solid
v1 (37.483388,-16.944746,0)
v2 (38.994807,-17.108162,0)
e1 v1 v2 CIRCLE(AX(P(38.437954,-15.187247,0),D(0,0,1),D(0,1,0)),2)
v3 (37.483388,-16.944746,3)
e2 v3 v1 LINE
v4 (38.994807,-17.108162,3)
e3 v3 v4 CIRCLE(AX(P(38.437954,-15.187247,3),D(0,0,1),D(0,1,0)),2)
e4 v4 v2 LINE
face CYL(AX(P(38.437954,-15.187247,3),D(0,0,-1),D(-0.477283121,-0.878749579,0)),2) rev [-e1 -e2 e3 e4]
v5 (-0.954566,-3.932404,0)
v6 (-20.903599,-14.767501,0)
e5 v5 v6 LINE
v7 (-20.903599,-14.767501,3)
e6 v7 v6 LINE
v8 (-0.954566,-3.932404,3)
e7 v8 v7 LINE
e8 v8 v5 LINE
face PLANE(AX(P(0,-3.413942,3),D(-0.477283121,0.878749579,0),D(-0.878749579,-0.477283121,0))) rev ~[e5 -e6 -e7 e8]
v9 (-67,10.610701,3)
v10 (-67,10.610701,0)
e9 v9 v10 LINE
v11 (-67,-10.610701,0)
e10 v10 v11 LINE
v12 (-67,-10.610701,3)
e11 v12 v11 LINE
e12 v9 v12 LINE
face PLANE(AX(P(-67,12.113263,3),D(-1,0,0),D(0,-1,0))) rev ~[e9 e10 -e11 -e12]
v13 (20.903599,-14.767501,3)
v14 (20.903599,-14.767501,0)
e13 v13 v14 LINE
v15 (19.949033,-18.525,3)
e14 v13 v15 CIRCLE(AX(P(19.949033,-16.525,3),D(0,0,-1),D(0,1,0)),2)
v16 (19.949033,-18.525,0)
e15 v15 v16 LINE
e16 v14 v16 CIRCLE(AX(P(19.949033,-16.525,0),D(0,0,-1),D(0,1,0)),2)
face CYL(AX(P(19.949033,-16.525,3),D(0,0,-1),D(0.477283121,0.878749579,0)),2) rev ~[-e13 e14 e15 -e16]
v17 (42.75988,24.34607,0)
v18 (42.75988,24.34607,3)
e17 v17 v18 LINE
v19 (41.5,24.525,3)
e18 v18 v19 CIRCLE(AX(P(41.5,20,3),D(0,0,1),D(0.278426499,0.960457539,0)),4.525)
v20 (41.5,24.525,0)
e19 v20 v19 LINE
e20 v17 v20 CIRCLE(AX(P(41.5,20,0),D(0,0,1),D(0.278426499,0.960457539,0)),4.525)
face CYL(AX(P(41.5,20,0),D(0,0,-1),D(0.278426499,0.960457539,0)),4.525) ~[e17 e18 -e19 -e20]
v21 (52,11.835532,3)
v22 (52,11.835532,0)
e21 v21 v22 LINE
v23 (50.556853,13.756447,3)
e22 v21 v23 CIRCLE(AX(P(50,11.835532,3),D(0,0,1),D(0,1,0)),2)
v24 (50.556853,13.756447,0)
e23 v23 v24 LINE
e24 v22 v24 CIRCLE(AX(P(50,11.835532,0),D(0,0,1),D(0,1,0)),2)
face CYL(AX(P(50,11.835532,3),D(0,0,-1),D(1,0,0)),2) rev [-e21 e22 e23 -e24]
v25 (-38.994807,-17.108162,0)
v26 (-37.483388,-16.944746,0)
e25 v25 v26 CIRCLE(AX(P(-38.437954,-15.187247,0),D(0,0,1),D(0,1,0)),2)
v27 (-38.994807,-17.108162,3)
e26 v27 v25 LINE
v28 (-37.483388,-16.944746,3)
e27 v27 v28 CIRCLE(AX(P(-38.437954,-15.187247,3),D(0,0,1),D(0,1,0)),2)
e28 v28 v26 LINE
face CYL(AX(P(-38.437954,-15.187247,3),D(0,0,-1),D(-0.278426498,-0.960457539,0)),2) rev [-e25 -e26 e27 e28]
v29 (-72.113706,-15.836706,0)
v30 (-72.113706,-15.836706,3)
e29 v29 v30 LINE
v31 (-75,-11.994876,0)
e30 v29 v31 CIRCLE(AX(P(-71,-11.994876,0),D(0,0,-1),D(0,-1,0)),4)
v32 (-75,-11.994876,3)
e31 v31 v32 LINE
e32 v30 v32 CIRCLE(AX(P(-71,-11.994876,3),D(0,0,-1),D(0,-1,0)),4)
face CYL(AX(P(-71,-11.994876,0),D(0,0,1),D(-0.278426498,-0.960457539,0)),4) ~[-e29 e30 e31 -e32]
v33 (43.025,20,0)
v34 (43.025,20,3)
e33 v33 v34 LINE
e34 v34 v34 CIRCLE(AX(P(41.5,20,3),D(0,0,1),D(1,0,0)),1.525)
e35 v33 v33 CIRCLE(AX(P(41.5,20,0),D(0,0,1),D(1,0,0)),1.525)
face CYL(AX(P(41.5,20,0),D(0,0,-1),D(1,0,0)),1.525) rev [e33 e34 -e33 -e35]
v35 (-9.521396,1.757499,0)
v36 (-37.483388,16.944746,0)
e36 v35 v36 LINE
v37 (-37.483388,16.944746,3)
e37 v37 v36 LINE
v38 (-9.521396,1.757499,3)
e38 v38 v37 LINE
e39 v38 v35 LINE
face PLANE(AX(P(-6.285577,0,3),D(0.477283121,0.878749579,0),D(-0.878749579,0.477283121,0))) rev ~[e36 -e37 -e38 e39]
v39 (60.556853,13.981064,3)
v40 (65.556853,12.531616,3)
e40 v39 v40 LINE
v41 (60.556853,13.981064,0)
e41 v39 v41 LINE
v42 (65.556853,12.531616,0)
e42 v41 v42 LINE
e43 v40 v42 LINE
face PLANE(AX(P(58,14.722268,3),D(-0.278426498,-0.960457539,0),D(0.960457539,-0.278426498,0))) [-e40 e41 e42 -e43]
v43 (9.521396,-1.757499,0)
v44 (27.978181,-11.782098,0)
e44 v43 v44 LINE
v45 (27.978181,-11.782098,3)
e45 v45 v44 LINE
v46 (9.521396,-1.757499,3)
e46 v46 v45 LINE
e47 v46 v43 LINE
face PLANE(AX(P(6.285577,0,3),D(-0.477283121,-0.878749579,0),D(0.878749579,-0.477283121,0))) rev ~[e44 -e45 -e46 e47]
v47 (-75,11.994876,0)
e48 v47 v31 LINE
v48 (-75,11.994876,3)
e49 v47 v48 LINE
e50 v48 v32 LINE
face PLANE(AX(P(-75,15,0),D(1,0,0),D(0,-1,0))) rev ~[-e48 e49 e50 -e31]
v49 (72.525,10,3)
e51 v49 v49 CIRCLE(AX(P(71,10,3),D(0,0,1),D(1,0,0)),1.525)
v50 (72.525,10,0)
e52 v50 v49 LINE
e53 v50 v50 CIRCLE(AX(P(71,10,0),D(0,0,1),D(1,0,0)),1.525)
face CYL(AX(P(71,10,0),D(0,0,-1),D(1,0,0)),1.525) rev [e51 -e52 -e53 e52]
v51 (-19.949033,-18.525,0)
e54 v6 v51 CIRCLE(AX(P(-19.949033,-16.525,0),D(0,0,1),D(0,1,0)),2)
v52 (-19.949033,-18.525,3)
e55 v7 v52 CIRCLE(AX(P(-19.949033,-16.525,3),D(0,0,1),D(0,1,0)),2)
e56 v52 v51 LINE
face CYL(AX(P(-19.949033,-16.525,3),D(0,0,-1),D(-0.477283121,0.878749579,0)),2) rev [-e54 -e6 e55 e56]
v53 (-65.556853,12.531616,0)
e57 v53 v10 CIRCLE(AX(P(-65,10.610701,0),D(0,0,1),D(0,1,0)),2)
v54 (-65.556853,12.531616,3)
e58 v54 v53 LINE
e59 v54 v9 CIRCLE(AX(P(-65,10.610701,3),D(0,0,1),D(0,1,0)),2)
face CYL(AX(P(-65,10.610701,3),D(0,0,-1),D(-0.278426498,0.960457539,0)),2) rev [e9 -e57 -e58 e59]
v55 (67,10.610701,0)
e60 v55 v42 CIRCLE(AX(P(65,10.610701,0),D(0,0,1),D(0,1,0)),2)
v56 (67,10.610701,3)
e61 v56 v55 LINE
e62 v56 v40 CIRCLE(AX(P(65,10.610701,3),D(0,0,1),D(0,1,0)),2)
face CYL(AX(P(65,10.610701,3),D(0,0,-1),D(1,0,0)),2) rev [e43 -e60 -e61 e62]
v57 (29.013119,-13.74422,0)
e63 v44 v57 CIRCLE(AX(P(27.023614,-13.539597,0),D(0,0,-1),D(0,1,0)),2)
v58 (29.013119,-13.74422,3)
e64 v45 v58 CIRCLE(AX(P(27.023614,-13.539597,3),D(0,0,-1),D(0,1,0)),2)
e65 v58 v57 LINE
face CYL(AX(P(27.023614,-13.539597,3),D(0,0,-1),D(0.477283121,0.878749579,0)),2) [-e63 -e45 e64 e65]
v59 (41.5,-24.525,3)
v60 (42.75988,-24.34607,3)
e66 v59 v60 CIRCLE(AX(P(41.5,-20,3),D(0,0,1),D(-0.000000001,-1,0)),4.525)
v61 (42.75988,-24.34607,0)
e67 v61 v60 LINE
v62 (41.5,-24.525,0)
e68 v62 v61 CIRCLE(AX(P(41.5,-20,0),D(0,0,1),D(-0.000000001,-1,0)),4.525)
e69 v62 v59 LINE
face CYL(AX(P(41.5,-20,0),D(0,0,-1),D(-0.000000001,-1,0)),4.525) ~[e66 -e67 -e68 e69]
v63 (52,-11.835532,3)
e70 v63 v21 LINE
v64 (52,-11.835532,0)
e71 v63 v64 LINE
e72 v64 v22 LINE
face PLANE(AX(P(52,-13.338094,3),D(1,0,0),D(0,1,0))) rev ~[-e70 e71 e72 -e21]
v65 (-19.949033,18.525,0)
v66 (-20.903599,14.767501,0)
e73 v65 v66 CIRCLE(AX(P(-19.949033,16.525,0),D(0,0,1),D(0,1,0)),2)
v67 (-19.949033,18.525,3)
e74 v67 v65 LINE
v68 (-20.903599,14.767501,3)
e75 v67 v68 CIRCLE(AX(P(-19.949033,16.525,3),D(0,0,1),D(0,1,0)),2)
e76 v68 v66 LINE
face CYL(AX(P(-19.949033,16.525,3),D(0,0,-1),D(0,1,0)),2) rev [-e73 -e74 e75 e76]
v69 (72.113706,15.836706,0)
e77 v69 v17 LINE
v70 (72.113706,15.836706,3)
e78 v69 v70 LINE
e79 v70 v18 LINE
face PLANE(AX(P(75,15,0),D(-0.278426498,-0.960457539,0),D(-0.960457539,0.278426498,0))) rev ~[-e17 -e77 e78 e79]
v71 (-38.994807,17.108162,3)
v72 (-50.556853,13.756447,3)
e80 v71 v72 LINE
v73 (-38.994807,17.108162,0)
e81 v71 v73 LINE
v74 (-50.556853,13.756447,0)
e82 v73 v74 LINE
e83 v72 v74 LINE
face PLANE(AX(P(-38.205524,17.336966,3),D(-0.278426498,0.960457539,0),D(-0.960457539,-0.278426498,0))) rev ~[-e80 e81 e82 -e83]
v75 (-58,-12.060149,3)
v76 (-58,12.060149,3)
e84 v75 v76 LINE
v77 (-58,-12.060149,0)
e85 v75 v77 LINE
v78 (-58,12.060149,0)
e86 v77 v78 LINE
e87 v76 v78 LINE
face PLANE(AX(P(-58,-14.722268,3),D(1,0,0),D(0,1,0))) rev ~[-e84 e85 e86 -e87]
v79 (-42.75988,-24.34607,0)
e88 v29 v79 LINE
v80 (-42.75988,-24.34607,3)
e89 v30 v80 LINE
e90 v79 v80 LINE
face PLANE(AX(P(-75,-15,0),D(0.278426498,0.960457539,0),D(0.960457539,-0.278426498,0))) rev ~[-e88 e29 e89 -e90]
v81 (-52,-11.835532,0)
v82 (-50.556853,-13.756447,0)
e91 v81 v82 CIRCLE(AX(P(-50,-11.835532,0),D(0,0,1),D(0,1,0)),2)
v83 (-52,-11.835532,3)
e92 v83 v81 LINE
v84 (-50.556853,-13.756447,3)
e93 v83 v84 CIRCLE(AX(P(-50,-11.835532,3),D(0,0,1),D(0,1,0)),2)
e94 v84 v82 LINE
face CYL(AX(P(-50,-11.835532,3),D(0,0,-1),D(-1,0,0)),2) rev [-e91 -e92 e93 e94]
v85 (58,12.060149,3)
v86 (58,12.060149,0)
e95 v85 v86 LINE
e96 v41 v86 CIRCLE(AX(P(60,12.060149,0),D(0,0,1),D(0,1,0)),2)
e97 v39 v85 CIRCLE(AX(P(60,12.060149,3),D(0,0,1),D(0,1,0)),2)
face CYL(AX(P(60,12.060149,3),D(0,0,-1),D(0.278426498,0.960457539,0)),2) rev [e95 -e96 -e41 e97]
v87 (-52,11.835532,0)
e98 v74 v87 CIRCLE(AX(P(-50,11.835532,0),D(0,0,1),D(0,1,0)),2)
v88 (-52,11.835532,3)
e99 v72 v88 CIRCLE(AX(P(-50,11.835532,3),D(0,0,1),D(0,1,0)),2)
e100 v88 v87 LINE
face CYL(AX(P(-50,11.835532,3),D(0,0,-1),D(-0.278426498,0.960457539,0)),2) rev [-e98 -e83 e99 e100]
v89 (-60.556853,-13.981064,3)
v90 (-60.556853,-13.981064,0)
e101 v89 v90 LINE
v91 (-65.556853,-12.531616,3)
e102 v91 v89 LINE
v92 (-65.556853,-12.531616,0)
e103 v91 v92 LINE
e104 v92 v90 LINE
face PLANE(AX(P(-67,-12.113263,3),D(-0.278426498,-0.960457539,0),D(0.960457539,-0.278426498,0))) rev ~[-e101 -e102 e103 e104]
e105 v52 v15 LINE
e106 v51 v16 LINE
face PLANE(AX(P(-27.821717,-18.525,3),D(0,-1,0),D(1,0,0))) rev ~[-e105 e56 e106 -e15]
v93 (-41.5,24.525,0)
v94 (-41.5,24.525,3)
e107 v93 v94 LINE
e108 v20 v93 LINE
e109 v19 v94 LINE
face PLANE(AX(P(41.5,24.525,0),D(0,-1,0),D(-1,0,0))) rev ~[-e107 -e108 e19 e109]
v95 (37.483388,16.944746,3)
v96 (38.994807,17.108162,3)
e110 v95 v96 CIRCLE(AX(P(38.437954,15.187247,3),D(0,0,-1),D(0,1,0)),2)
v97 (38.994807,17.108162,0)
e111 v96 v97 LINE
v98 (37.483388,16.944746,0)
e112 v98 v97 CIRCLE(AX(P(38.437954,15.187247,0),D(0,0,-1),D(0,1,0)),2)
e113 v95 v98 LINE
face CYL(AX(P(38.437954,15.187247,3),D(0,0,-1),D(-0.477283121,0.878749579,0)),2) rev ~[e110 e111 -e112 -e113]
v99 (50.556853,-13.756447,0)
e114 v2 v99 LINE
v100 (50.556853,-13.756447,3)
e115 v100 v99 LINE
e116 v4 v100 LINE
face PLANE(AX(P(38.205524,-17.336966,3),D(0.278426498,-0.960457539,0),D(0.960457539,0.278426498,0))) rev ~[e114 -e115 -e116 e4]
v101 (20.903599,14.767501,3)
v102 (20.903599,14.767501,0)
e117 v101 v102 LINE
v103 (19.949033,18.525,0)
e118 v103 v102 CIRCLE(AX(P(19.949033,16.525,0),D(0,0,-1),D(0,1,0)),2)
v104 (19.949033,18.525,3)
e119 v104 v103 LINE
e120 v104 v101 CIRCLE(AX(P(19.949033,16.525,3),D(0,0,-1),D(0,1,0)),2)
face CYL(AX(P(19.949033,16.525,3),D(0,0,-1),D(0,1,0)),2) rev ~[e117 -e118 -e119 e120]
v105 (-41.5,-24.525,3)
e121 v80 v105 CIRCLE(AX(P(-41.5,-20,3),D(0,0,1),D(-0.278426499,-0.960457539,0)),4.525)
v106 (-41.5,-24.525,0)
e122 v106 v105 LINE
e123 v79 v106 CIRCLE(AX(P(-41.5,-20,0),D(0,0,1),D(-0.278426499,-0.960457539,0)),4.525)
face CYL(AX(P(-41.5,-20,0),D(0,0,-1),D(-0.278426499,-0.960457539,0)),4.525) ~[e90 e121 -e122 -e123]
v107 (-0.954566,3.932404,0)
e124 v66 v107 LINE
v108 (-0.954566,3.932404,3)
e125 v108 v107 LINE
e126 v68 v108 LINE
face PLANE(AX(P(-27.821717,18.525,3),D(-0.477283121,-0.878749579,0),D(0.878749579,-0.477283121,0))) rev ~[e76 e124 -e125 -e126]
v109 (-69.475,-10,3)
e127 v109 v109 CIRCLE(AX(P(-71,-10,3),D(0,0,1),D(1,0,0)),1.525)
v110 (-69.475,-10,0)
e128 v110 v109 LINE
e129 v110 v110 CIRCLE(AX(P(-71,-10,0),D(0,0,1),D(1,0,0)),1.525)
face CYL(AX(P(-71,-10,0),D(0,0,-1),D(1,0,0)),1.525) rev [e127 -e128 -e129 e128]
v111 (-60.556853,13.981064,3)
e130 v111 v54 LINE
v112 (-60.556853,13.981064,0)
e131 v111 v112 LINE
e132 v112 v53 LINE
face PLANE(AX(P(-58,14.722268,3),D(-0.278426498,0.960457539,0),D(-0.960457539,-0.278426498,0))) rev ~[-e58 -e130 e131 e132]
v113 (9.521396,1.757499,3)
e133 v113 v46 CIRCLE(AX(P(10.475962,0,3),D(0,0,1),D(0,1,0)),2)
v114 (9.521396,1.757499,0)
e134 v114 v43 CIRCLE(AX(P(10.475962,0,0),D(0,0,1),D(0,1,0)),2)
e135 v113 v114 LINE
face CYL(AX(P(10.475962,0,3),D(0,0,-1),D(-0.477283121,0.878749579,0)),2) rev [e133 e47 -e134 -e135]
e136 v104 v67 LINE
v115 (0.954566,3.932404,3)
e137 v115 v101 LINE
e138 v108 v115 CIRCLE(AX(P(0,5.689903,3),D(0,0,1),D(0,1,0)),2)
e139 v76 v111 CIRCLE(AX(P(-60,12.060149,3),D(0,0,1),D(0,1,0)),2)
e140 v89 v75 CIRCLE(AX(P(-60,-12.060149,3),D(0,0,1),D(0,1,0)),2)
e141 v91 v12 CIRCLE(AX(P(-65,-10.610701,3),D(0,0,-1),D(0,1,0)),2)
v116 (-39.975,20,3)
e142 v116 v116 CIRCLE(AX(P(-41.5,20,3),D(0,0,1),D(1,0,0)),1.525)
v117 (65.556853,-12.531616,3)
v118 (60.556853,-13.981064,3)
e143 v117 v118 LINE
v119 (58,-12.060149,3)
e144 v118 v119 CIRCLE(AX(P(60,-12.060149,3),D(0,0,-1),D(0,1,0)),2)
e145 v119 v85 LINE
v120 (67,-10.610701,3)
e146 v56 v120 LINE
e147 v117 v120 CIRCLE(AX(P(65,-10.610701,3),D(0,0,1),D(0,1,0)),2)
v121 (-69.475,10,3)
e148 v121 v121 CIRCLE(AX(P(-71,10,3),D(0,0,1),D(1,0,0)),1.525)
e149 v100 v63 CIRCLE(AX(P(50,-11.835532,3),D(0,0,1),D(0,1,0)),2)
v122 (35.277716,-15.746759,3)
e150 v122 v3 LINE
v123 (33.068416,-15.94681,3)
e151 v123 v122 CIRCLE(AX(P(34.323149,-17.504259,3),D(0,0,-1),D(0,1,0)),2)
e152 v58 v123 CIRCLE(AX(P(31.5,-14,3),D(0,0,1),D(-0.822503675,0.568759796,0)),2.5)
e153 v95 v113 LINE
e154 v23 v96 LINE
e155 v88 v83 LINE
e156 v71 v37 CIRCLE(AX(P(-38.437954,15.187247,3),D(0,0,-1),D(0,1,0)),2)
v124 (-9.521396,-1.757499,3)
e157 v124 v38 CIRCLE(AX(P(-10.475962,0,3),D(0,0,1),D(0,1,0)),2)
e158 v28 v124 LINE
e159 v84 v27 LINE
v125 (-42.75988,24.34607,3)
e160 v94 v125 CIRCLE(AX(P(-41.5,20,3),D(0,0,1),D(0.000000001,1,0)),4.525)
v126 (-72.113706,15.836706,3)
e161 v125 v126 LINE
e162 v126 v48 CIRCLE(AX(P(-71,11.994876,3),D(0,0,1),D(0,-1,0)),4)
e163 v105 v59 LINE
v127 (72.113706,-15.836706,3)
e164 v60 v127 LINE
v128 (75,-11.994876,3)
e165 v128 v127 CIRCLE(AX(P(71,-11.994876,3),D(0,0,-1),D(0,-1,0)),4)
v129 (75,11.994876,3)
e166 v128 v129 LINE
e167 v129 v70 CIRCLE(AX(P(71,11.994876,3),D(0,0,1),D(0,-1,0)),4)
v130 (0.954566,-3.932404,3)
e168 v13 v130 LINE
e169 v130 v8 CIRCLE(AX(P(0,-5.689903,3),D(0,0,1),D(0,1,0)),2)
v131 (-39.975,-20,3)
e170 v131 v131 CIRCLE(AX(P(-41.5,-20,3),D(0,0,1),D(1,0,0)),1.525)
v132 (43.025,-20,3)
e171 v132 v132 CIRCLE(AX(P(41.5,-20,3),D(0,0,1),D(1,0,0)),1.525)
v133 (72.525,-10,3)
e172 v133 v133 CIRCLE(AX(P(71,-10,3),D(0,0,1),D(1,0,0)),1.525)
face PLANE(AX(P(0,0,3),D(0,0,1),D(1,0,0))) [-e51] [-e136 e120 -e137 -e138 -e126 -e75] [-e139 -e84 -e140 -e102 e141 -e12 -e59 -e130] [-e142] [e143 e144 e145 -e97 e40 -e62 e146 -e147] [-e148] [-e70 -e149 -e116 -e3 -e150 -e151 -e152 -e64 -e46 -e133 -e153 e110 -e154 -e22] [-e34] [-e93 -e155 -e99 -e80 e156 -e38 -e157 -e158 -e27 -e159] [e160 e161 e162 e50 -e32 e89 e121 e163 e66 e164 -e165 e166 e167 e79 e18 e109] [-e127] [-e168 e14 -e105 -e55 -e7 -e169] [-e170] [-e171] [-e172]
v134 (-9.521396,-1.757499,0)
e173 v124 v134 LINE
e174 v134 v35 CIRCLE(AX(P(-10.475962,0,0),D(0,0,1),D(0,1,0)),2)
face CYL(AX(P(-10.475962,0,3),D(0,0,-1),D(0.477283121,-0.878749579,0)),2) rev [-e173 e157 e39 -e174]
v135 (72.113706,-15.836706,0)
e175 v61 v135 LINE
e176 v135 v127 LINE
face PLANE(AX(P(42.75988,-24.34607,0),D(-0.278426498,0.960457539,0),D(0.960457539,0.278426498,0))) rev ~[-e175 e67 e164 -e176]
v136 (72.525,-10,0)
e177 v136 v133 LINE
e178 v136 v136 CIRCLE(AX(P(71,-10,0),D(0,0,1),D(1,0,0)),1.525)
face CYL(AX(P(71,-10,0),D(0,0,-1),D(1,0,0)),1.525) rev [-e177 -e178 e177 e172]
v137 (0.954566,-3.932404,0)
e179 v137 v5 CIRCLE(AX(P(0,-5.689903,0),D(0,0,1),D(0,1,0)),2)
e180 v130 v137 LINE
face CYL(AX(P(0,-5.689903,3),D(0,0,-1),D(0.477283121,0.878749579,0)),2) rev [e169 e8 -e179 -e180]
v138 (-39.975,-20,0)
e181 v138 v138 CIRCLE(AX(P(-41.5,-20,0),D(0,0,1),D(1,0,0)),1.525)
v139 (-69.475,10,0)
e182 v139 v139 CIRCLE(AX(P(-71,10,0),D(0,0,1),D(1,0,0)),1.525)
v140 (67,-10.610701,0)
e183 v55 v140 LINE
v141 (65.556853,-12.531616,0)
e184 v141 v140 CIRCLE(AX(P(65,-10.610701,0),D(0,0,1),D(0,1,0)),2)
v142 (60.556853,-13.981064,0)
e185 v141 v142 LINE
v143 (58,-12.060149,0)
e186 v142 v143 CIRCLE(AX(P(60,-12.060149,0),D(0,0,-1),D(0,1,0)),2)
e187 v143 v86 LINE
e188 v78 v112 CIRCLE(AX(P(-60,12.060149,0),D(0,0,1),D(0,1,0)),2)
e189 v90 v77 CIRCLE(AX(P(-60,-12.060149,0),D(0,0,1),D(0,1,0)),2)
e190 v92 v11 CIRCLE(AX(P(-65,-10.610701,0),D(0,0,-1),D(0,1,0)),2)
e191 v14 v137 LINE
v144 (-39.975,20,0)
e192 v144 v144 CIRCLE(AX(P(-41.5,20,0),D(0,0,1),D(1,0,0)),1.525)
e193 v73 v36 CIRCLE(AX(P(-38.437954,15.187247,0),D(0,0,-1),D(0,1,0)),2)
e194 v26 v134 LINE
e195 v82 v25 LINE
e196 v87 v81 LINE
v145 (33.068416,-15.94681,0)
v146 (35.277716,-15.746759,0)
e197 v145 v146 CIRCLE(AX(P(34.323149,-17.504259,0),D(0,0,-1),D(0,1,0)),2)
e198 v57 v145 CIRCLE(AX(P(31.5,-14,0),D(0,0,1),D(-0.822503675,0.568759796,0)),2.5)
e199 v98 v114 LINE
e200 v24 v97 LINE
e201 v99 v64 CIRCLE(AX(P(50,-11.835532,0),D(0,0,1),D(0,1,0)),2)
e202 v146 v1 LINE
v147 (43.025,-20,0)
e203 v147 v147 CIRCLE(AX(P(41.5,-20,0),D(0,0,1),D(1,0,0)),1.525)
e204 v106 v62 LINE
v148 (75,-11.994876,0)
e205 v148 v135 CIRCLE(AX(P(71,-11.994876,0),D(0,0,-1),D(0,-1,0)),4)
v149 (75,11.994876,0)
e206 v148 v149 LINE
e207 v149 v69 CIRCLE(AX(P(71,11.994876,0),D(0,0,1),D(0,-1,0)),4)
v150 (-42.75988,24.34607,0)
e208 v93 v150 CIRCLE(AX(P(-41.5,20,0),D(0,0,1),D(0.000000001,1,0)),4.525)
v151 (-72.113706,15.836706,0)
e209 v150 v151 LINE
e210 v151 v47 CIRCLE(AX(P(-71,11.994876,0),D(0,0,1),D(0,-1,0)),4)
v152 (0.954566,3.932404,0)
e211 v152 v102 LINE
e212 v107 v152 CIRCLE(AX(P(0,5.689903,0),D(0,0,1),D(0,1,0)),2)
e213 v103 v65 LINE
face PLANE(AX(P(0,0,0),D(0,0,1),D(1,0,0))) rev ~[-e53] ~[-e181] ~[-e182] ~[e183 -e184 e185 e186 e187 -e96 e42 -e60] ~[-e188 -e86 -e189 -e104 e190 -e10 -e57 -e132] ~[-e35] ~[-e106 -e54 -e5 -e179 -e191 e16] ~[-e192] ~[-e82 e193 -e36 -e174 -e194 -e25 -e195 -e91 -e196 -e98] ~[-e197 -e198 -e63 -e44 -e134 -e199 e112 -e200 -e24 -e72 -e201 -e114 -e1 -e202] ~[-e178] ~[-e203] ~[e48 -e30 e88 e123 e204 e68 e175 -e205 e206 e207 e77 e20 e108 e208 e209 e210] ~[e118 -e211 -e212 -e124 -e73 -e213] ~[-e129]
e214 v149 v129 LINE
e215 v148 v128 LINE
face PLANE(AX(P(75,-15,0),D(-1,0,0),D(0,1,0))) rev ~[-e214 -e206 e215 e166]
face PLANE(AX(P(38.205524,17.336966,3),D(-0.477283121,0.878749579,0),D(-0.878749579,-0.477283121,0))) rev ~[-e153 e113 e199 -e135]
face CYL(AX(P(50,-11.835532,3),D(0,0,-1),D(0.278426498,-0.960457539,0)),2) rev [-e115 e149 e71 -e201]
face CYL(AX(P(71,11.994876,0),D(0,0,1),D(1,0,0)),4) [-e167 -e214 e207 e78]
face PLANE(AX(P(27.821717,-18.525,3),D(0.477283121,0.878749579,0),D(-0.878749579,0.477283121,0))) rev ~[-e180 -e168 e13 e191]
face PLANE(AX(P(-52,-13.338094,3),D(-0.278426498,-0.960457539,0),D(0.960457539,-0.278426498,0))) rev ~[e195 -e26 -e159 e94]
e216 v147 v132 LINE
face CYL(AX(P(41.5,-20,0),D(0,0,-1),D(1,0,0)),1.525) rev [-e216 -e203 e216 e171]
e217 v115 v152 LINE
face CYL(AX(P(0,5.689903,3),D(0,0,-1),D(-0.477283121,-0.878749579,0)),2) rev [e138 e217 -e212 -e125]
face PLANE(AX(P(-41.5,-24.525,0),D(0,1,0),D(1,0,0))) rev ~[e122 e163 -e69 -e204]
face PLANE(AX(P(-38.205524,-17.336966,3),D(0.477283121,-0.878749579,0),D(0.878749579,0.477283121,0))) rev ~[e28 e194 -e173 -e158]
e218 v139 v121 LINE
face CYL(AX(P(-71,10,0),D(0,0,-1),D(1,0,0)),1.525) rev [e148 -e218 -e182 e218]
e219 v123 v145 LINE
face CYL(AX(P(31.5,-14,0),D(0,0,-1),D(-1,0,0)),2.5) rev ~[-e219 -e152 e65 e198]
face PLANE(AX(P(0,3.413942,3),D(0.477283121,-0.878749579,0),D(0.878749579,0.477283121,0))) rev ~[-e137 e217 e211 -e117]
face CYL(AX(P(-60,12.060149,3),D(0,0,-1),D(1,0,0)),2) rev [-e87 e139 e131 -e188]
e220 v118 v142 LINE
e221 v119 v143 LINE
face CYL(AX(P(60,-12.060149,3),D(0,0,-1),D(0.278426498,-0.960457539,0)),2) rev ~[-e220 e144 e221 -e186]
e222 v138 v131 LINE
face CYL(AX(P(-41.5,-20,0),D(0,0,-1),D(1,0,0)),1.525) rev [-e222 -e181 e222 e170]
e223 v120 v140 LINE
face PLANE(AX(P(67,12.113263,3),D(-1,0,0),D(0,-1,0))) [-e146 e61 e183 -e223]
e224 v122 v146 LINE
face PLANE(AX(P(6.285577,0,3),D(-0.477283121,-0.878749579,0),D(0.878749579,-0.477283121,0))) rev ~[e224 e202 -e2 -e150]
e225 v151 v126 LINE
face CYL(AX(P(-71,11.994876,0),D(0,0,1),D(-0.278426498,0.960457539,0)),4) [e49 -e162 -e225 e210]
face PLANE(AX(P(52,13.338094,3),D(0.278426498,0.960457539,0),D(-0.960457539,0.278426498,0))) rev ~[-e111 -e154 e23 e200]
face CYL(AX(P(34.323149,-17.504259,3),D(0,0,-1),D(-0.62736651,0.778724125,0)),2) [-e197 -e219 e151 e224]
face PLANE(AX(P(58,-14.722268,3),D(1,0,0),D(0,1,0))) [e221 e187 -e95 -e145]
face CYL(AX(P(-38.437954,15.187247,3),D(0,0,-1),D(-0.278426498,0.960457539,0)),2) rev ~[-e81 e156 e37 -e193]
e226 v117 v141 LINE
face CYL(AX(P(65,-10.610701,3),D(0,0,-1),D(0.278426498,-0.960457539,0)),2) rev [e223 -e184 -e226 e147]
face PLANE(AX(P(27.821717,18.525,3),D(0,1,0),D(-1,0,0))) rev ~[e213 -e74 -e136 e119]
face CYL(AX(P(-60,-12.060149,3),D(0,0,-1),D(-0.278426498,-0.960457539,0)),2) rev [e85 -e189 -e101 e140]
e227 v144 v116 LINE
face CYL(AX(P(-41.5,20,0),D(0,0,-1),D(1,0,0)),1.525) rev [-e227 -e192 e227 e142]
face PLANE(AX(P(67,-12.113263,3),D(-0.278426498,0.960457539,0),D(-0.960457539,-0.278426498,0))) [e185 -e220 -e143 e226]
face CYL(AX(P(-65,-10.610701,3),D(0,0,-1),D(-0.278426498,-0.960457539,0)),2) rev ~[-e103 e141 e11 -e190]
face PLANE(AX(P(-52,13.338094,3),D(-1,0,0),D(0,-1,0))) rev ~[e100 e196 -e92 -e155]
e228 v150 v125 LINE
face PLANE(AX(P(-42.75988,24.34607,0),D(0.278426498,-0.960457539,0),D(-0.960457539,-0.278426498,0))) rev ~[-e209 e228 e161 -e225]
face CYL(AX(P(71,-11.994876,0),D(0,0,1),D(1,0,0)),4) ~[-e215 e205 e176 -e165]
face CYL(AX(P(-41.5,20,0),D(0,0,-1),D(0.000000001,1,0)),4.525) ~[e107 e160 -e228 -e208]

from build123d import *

# Parameters (mm, degrees)
SKETCH_1_R          = 1.525
EXTRUDE_1_DEPTH     = 3
FILLET_1_R          = 4
CUT_EXTRUDE_1_DEPTH = 10
FILLET_2_R          = 2
SKETCH_4_R          = 2.5
CUT_EXTRUDE_2_DEPTH = 10
FILLET_3_R          = 2


with BuildPart() as part:
    # 草图1 → 凸台-拉伸1 (new body)
    with BuildSketch(Plane.XY):
        with BuildLine():
            Line((75, -15), (75, 15))
            Line((75, 15), (42.759879905, 24.346070366))
            ThreePointArc((42.759879905, 24.346070366), (42.136261187, 24.480044275), (41.5, 24.525))
            Line((41.5, 24.525), (-41.5, 24.525))
            ThreePointArc((-41.5, 24.525), (-42.136261187, 24.480044275), (-42.759879905, 24.346070366))
            Line((-42.759879905, 24.346070366), (-75, 15))
            Line((-75, 15), (-75, -15))
            Line((-75, -15), (-42.759879905, -24.346070366))
            ThreePointArc((-42.759879905, -24.346070366), (-42.136261187, -24.480044275), (-41.5, -24.525))
            Line((-41.5, -24.525), (41.5, -24.525))
            ThreePointArc((41.5, -24.525), (42.136261187, -24.480044275), (42.759879905, -24.346070366))
            Line((42.759879905, -24.346070366), (75, -15))
        make_face()
        with Locations((-71, -10)):
            Circle(SKETCH_1_R, mode=Mode.SUBTRACT)
        with Locations((71, -10)):
            Circle(SKETCH_1_R, mode=Mode.SUBTRACT)
        with Locations((-71, 10)):
            Circle(SKETCH_1_R, mode=Mode.SUBTRACT)
        with Locations((71, 10)):
            Circle(SKETCH_1_R, mode=Mode.SUBTRACT)
        with Locations((-41.5, 20)):
            Circle(SKETCH_1_R, mode=Mode.SUBTRACT)
        with Locations((-41.5, -20)):
            Circle(SKETCH_1_R, mode=Mode.SUBTRACT)
        with Locations((41.5, 20)):
            Circle(SKETCH_1_R, mode=Mode.SUBTRACT)
        with Locations((41.5, -20)):
            Circle(SKETCH_1_R, mode=Mode.SUBTRACT)
    extrude(amount=EXTRUDE_1_DEPTH)

    # 圆角1
    fillet_1_edges = [part.edges().sort_by_distance(p)[0] for p in [
        (75, 15, 1.5),
        (75, -15, 1.5),
        (-75, -15, 1.5),
        (-75, 15, 1.5),
    ]]
    fillet(fillet_1_edges, radius=FILLET_1_R)

    # 草图2 → 切除-拉伸1 (cut)
    with BuildSketch(Plane.XY.offset(3)):
        Polygon((27.82171702, 18.525), (-27.82171702, 18.525), (0, 3.413941893), align=None)
        Polygon((-38.205524372, 17.336966413), (-52, 13.338093595), (-52, -13.338093595), (-38.205524372, -17.336966413), (-6.285577396, 0), align=None)
        Polygon((27.82171702, -18.525), (0, -3.413941893), (-27.82171702, -18.525), align=None)
        Polygon((38.205524372, 17.336966413), (6.285577396, 0), (38.205524372, -17.336966413), (52, -13.338093595), (52, 13.338093595), align=None)
        Polygon((58, -14.722268277), (58, 14.722268277), (67, 12.113263316), (67, -12.113263316), align=None)
        Polygon((-67, -12.113263316), (-58, -14.722268277), (-58, 14.722268277), (-67, 12.113263316), align=None)
    extrude(amount=-CUT_EXTRUDE_1_DEPTH, mode=Mode.SUBTRACT)

    # 圆角2
    fillet_2_edges = [part.edges().sort_by_distance(p)[0] for p in [
        (-58, -14.722268277, 1.5),
        (-67, -12.113263316, 1.5),
        (-67, 12.113263316, 1.5),
        (-58, 14.722268277, 1.5),
        (0, -3.413941893, 1.5),
        (27.82171702, -18.525, 1.5),
        (-27.82171702, -18.525, 1.5),
        (-6.285577396, 0, 1.5),
        (-38.205524372, -17.336966413, 1.5),
        (-52, -13.338093595, 1.5),
        (-52, 13.338093595, 1.5),
        (-38.205524372, 17.336966413, 1.5),
        (38.205524372, 17.336966413, 1.5),
        (52, 13.338093595, 1.5),
        (52, -13.338093595, 1.5),
        (38.205524372, -17.336966413, 1.5),
        (6.285577396, 0, 1.5),
        (58, -14.722268277, 1.5),
        (58, 14.722268277, 1.5),
        (67, 12.113263316, 1.5),
        (67, -12.113263316, 1.5),
        (-27.82171702, 18.525, 1.5),
        (27.82171702, 18.525, 1.5),
        (0, 3.413941893, 1.5),
    ]]
    fillet(fillet_2_edges, radius=FILLET_2_R)

    # 草图4 → 切除-拉伸2 (cut)
    with BuildSketch(Plane(origin=(0, 0, 0), x_dir=(-1, 0, 0), z_dir=(0, 0, -1))):
        with Locations((-31.5, -14)):
            Circle(SKETCH_4_R)
    extrude(amount=-CUT_EXTRUDE_2_DEPTH, mode=Mode.SUBTRACT)

    # 圆角3
    fillet_3_edges = [part.edges().sort_by_distance(p)[0] for p in [
        (33.812155271, -14.950756542, 1.5),
        (29.443740814, -12.57810051, 1.5),
    ]]
    fillet(fillet_3_edges, radius=FILLET_3_R)


solid = part.part
